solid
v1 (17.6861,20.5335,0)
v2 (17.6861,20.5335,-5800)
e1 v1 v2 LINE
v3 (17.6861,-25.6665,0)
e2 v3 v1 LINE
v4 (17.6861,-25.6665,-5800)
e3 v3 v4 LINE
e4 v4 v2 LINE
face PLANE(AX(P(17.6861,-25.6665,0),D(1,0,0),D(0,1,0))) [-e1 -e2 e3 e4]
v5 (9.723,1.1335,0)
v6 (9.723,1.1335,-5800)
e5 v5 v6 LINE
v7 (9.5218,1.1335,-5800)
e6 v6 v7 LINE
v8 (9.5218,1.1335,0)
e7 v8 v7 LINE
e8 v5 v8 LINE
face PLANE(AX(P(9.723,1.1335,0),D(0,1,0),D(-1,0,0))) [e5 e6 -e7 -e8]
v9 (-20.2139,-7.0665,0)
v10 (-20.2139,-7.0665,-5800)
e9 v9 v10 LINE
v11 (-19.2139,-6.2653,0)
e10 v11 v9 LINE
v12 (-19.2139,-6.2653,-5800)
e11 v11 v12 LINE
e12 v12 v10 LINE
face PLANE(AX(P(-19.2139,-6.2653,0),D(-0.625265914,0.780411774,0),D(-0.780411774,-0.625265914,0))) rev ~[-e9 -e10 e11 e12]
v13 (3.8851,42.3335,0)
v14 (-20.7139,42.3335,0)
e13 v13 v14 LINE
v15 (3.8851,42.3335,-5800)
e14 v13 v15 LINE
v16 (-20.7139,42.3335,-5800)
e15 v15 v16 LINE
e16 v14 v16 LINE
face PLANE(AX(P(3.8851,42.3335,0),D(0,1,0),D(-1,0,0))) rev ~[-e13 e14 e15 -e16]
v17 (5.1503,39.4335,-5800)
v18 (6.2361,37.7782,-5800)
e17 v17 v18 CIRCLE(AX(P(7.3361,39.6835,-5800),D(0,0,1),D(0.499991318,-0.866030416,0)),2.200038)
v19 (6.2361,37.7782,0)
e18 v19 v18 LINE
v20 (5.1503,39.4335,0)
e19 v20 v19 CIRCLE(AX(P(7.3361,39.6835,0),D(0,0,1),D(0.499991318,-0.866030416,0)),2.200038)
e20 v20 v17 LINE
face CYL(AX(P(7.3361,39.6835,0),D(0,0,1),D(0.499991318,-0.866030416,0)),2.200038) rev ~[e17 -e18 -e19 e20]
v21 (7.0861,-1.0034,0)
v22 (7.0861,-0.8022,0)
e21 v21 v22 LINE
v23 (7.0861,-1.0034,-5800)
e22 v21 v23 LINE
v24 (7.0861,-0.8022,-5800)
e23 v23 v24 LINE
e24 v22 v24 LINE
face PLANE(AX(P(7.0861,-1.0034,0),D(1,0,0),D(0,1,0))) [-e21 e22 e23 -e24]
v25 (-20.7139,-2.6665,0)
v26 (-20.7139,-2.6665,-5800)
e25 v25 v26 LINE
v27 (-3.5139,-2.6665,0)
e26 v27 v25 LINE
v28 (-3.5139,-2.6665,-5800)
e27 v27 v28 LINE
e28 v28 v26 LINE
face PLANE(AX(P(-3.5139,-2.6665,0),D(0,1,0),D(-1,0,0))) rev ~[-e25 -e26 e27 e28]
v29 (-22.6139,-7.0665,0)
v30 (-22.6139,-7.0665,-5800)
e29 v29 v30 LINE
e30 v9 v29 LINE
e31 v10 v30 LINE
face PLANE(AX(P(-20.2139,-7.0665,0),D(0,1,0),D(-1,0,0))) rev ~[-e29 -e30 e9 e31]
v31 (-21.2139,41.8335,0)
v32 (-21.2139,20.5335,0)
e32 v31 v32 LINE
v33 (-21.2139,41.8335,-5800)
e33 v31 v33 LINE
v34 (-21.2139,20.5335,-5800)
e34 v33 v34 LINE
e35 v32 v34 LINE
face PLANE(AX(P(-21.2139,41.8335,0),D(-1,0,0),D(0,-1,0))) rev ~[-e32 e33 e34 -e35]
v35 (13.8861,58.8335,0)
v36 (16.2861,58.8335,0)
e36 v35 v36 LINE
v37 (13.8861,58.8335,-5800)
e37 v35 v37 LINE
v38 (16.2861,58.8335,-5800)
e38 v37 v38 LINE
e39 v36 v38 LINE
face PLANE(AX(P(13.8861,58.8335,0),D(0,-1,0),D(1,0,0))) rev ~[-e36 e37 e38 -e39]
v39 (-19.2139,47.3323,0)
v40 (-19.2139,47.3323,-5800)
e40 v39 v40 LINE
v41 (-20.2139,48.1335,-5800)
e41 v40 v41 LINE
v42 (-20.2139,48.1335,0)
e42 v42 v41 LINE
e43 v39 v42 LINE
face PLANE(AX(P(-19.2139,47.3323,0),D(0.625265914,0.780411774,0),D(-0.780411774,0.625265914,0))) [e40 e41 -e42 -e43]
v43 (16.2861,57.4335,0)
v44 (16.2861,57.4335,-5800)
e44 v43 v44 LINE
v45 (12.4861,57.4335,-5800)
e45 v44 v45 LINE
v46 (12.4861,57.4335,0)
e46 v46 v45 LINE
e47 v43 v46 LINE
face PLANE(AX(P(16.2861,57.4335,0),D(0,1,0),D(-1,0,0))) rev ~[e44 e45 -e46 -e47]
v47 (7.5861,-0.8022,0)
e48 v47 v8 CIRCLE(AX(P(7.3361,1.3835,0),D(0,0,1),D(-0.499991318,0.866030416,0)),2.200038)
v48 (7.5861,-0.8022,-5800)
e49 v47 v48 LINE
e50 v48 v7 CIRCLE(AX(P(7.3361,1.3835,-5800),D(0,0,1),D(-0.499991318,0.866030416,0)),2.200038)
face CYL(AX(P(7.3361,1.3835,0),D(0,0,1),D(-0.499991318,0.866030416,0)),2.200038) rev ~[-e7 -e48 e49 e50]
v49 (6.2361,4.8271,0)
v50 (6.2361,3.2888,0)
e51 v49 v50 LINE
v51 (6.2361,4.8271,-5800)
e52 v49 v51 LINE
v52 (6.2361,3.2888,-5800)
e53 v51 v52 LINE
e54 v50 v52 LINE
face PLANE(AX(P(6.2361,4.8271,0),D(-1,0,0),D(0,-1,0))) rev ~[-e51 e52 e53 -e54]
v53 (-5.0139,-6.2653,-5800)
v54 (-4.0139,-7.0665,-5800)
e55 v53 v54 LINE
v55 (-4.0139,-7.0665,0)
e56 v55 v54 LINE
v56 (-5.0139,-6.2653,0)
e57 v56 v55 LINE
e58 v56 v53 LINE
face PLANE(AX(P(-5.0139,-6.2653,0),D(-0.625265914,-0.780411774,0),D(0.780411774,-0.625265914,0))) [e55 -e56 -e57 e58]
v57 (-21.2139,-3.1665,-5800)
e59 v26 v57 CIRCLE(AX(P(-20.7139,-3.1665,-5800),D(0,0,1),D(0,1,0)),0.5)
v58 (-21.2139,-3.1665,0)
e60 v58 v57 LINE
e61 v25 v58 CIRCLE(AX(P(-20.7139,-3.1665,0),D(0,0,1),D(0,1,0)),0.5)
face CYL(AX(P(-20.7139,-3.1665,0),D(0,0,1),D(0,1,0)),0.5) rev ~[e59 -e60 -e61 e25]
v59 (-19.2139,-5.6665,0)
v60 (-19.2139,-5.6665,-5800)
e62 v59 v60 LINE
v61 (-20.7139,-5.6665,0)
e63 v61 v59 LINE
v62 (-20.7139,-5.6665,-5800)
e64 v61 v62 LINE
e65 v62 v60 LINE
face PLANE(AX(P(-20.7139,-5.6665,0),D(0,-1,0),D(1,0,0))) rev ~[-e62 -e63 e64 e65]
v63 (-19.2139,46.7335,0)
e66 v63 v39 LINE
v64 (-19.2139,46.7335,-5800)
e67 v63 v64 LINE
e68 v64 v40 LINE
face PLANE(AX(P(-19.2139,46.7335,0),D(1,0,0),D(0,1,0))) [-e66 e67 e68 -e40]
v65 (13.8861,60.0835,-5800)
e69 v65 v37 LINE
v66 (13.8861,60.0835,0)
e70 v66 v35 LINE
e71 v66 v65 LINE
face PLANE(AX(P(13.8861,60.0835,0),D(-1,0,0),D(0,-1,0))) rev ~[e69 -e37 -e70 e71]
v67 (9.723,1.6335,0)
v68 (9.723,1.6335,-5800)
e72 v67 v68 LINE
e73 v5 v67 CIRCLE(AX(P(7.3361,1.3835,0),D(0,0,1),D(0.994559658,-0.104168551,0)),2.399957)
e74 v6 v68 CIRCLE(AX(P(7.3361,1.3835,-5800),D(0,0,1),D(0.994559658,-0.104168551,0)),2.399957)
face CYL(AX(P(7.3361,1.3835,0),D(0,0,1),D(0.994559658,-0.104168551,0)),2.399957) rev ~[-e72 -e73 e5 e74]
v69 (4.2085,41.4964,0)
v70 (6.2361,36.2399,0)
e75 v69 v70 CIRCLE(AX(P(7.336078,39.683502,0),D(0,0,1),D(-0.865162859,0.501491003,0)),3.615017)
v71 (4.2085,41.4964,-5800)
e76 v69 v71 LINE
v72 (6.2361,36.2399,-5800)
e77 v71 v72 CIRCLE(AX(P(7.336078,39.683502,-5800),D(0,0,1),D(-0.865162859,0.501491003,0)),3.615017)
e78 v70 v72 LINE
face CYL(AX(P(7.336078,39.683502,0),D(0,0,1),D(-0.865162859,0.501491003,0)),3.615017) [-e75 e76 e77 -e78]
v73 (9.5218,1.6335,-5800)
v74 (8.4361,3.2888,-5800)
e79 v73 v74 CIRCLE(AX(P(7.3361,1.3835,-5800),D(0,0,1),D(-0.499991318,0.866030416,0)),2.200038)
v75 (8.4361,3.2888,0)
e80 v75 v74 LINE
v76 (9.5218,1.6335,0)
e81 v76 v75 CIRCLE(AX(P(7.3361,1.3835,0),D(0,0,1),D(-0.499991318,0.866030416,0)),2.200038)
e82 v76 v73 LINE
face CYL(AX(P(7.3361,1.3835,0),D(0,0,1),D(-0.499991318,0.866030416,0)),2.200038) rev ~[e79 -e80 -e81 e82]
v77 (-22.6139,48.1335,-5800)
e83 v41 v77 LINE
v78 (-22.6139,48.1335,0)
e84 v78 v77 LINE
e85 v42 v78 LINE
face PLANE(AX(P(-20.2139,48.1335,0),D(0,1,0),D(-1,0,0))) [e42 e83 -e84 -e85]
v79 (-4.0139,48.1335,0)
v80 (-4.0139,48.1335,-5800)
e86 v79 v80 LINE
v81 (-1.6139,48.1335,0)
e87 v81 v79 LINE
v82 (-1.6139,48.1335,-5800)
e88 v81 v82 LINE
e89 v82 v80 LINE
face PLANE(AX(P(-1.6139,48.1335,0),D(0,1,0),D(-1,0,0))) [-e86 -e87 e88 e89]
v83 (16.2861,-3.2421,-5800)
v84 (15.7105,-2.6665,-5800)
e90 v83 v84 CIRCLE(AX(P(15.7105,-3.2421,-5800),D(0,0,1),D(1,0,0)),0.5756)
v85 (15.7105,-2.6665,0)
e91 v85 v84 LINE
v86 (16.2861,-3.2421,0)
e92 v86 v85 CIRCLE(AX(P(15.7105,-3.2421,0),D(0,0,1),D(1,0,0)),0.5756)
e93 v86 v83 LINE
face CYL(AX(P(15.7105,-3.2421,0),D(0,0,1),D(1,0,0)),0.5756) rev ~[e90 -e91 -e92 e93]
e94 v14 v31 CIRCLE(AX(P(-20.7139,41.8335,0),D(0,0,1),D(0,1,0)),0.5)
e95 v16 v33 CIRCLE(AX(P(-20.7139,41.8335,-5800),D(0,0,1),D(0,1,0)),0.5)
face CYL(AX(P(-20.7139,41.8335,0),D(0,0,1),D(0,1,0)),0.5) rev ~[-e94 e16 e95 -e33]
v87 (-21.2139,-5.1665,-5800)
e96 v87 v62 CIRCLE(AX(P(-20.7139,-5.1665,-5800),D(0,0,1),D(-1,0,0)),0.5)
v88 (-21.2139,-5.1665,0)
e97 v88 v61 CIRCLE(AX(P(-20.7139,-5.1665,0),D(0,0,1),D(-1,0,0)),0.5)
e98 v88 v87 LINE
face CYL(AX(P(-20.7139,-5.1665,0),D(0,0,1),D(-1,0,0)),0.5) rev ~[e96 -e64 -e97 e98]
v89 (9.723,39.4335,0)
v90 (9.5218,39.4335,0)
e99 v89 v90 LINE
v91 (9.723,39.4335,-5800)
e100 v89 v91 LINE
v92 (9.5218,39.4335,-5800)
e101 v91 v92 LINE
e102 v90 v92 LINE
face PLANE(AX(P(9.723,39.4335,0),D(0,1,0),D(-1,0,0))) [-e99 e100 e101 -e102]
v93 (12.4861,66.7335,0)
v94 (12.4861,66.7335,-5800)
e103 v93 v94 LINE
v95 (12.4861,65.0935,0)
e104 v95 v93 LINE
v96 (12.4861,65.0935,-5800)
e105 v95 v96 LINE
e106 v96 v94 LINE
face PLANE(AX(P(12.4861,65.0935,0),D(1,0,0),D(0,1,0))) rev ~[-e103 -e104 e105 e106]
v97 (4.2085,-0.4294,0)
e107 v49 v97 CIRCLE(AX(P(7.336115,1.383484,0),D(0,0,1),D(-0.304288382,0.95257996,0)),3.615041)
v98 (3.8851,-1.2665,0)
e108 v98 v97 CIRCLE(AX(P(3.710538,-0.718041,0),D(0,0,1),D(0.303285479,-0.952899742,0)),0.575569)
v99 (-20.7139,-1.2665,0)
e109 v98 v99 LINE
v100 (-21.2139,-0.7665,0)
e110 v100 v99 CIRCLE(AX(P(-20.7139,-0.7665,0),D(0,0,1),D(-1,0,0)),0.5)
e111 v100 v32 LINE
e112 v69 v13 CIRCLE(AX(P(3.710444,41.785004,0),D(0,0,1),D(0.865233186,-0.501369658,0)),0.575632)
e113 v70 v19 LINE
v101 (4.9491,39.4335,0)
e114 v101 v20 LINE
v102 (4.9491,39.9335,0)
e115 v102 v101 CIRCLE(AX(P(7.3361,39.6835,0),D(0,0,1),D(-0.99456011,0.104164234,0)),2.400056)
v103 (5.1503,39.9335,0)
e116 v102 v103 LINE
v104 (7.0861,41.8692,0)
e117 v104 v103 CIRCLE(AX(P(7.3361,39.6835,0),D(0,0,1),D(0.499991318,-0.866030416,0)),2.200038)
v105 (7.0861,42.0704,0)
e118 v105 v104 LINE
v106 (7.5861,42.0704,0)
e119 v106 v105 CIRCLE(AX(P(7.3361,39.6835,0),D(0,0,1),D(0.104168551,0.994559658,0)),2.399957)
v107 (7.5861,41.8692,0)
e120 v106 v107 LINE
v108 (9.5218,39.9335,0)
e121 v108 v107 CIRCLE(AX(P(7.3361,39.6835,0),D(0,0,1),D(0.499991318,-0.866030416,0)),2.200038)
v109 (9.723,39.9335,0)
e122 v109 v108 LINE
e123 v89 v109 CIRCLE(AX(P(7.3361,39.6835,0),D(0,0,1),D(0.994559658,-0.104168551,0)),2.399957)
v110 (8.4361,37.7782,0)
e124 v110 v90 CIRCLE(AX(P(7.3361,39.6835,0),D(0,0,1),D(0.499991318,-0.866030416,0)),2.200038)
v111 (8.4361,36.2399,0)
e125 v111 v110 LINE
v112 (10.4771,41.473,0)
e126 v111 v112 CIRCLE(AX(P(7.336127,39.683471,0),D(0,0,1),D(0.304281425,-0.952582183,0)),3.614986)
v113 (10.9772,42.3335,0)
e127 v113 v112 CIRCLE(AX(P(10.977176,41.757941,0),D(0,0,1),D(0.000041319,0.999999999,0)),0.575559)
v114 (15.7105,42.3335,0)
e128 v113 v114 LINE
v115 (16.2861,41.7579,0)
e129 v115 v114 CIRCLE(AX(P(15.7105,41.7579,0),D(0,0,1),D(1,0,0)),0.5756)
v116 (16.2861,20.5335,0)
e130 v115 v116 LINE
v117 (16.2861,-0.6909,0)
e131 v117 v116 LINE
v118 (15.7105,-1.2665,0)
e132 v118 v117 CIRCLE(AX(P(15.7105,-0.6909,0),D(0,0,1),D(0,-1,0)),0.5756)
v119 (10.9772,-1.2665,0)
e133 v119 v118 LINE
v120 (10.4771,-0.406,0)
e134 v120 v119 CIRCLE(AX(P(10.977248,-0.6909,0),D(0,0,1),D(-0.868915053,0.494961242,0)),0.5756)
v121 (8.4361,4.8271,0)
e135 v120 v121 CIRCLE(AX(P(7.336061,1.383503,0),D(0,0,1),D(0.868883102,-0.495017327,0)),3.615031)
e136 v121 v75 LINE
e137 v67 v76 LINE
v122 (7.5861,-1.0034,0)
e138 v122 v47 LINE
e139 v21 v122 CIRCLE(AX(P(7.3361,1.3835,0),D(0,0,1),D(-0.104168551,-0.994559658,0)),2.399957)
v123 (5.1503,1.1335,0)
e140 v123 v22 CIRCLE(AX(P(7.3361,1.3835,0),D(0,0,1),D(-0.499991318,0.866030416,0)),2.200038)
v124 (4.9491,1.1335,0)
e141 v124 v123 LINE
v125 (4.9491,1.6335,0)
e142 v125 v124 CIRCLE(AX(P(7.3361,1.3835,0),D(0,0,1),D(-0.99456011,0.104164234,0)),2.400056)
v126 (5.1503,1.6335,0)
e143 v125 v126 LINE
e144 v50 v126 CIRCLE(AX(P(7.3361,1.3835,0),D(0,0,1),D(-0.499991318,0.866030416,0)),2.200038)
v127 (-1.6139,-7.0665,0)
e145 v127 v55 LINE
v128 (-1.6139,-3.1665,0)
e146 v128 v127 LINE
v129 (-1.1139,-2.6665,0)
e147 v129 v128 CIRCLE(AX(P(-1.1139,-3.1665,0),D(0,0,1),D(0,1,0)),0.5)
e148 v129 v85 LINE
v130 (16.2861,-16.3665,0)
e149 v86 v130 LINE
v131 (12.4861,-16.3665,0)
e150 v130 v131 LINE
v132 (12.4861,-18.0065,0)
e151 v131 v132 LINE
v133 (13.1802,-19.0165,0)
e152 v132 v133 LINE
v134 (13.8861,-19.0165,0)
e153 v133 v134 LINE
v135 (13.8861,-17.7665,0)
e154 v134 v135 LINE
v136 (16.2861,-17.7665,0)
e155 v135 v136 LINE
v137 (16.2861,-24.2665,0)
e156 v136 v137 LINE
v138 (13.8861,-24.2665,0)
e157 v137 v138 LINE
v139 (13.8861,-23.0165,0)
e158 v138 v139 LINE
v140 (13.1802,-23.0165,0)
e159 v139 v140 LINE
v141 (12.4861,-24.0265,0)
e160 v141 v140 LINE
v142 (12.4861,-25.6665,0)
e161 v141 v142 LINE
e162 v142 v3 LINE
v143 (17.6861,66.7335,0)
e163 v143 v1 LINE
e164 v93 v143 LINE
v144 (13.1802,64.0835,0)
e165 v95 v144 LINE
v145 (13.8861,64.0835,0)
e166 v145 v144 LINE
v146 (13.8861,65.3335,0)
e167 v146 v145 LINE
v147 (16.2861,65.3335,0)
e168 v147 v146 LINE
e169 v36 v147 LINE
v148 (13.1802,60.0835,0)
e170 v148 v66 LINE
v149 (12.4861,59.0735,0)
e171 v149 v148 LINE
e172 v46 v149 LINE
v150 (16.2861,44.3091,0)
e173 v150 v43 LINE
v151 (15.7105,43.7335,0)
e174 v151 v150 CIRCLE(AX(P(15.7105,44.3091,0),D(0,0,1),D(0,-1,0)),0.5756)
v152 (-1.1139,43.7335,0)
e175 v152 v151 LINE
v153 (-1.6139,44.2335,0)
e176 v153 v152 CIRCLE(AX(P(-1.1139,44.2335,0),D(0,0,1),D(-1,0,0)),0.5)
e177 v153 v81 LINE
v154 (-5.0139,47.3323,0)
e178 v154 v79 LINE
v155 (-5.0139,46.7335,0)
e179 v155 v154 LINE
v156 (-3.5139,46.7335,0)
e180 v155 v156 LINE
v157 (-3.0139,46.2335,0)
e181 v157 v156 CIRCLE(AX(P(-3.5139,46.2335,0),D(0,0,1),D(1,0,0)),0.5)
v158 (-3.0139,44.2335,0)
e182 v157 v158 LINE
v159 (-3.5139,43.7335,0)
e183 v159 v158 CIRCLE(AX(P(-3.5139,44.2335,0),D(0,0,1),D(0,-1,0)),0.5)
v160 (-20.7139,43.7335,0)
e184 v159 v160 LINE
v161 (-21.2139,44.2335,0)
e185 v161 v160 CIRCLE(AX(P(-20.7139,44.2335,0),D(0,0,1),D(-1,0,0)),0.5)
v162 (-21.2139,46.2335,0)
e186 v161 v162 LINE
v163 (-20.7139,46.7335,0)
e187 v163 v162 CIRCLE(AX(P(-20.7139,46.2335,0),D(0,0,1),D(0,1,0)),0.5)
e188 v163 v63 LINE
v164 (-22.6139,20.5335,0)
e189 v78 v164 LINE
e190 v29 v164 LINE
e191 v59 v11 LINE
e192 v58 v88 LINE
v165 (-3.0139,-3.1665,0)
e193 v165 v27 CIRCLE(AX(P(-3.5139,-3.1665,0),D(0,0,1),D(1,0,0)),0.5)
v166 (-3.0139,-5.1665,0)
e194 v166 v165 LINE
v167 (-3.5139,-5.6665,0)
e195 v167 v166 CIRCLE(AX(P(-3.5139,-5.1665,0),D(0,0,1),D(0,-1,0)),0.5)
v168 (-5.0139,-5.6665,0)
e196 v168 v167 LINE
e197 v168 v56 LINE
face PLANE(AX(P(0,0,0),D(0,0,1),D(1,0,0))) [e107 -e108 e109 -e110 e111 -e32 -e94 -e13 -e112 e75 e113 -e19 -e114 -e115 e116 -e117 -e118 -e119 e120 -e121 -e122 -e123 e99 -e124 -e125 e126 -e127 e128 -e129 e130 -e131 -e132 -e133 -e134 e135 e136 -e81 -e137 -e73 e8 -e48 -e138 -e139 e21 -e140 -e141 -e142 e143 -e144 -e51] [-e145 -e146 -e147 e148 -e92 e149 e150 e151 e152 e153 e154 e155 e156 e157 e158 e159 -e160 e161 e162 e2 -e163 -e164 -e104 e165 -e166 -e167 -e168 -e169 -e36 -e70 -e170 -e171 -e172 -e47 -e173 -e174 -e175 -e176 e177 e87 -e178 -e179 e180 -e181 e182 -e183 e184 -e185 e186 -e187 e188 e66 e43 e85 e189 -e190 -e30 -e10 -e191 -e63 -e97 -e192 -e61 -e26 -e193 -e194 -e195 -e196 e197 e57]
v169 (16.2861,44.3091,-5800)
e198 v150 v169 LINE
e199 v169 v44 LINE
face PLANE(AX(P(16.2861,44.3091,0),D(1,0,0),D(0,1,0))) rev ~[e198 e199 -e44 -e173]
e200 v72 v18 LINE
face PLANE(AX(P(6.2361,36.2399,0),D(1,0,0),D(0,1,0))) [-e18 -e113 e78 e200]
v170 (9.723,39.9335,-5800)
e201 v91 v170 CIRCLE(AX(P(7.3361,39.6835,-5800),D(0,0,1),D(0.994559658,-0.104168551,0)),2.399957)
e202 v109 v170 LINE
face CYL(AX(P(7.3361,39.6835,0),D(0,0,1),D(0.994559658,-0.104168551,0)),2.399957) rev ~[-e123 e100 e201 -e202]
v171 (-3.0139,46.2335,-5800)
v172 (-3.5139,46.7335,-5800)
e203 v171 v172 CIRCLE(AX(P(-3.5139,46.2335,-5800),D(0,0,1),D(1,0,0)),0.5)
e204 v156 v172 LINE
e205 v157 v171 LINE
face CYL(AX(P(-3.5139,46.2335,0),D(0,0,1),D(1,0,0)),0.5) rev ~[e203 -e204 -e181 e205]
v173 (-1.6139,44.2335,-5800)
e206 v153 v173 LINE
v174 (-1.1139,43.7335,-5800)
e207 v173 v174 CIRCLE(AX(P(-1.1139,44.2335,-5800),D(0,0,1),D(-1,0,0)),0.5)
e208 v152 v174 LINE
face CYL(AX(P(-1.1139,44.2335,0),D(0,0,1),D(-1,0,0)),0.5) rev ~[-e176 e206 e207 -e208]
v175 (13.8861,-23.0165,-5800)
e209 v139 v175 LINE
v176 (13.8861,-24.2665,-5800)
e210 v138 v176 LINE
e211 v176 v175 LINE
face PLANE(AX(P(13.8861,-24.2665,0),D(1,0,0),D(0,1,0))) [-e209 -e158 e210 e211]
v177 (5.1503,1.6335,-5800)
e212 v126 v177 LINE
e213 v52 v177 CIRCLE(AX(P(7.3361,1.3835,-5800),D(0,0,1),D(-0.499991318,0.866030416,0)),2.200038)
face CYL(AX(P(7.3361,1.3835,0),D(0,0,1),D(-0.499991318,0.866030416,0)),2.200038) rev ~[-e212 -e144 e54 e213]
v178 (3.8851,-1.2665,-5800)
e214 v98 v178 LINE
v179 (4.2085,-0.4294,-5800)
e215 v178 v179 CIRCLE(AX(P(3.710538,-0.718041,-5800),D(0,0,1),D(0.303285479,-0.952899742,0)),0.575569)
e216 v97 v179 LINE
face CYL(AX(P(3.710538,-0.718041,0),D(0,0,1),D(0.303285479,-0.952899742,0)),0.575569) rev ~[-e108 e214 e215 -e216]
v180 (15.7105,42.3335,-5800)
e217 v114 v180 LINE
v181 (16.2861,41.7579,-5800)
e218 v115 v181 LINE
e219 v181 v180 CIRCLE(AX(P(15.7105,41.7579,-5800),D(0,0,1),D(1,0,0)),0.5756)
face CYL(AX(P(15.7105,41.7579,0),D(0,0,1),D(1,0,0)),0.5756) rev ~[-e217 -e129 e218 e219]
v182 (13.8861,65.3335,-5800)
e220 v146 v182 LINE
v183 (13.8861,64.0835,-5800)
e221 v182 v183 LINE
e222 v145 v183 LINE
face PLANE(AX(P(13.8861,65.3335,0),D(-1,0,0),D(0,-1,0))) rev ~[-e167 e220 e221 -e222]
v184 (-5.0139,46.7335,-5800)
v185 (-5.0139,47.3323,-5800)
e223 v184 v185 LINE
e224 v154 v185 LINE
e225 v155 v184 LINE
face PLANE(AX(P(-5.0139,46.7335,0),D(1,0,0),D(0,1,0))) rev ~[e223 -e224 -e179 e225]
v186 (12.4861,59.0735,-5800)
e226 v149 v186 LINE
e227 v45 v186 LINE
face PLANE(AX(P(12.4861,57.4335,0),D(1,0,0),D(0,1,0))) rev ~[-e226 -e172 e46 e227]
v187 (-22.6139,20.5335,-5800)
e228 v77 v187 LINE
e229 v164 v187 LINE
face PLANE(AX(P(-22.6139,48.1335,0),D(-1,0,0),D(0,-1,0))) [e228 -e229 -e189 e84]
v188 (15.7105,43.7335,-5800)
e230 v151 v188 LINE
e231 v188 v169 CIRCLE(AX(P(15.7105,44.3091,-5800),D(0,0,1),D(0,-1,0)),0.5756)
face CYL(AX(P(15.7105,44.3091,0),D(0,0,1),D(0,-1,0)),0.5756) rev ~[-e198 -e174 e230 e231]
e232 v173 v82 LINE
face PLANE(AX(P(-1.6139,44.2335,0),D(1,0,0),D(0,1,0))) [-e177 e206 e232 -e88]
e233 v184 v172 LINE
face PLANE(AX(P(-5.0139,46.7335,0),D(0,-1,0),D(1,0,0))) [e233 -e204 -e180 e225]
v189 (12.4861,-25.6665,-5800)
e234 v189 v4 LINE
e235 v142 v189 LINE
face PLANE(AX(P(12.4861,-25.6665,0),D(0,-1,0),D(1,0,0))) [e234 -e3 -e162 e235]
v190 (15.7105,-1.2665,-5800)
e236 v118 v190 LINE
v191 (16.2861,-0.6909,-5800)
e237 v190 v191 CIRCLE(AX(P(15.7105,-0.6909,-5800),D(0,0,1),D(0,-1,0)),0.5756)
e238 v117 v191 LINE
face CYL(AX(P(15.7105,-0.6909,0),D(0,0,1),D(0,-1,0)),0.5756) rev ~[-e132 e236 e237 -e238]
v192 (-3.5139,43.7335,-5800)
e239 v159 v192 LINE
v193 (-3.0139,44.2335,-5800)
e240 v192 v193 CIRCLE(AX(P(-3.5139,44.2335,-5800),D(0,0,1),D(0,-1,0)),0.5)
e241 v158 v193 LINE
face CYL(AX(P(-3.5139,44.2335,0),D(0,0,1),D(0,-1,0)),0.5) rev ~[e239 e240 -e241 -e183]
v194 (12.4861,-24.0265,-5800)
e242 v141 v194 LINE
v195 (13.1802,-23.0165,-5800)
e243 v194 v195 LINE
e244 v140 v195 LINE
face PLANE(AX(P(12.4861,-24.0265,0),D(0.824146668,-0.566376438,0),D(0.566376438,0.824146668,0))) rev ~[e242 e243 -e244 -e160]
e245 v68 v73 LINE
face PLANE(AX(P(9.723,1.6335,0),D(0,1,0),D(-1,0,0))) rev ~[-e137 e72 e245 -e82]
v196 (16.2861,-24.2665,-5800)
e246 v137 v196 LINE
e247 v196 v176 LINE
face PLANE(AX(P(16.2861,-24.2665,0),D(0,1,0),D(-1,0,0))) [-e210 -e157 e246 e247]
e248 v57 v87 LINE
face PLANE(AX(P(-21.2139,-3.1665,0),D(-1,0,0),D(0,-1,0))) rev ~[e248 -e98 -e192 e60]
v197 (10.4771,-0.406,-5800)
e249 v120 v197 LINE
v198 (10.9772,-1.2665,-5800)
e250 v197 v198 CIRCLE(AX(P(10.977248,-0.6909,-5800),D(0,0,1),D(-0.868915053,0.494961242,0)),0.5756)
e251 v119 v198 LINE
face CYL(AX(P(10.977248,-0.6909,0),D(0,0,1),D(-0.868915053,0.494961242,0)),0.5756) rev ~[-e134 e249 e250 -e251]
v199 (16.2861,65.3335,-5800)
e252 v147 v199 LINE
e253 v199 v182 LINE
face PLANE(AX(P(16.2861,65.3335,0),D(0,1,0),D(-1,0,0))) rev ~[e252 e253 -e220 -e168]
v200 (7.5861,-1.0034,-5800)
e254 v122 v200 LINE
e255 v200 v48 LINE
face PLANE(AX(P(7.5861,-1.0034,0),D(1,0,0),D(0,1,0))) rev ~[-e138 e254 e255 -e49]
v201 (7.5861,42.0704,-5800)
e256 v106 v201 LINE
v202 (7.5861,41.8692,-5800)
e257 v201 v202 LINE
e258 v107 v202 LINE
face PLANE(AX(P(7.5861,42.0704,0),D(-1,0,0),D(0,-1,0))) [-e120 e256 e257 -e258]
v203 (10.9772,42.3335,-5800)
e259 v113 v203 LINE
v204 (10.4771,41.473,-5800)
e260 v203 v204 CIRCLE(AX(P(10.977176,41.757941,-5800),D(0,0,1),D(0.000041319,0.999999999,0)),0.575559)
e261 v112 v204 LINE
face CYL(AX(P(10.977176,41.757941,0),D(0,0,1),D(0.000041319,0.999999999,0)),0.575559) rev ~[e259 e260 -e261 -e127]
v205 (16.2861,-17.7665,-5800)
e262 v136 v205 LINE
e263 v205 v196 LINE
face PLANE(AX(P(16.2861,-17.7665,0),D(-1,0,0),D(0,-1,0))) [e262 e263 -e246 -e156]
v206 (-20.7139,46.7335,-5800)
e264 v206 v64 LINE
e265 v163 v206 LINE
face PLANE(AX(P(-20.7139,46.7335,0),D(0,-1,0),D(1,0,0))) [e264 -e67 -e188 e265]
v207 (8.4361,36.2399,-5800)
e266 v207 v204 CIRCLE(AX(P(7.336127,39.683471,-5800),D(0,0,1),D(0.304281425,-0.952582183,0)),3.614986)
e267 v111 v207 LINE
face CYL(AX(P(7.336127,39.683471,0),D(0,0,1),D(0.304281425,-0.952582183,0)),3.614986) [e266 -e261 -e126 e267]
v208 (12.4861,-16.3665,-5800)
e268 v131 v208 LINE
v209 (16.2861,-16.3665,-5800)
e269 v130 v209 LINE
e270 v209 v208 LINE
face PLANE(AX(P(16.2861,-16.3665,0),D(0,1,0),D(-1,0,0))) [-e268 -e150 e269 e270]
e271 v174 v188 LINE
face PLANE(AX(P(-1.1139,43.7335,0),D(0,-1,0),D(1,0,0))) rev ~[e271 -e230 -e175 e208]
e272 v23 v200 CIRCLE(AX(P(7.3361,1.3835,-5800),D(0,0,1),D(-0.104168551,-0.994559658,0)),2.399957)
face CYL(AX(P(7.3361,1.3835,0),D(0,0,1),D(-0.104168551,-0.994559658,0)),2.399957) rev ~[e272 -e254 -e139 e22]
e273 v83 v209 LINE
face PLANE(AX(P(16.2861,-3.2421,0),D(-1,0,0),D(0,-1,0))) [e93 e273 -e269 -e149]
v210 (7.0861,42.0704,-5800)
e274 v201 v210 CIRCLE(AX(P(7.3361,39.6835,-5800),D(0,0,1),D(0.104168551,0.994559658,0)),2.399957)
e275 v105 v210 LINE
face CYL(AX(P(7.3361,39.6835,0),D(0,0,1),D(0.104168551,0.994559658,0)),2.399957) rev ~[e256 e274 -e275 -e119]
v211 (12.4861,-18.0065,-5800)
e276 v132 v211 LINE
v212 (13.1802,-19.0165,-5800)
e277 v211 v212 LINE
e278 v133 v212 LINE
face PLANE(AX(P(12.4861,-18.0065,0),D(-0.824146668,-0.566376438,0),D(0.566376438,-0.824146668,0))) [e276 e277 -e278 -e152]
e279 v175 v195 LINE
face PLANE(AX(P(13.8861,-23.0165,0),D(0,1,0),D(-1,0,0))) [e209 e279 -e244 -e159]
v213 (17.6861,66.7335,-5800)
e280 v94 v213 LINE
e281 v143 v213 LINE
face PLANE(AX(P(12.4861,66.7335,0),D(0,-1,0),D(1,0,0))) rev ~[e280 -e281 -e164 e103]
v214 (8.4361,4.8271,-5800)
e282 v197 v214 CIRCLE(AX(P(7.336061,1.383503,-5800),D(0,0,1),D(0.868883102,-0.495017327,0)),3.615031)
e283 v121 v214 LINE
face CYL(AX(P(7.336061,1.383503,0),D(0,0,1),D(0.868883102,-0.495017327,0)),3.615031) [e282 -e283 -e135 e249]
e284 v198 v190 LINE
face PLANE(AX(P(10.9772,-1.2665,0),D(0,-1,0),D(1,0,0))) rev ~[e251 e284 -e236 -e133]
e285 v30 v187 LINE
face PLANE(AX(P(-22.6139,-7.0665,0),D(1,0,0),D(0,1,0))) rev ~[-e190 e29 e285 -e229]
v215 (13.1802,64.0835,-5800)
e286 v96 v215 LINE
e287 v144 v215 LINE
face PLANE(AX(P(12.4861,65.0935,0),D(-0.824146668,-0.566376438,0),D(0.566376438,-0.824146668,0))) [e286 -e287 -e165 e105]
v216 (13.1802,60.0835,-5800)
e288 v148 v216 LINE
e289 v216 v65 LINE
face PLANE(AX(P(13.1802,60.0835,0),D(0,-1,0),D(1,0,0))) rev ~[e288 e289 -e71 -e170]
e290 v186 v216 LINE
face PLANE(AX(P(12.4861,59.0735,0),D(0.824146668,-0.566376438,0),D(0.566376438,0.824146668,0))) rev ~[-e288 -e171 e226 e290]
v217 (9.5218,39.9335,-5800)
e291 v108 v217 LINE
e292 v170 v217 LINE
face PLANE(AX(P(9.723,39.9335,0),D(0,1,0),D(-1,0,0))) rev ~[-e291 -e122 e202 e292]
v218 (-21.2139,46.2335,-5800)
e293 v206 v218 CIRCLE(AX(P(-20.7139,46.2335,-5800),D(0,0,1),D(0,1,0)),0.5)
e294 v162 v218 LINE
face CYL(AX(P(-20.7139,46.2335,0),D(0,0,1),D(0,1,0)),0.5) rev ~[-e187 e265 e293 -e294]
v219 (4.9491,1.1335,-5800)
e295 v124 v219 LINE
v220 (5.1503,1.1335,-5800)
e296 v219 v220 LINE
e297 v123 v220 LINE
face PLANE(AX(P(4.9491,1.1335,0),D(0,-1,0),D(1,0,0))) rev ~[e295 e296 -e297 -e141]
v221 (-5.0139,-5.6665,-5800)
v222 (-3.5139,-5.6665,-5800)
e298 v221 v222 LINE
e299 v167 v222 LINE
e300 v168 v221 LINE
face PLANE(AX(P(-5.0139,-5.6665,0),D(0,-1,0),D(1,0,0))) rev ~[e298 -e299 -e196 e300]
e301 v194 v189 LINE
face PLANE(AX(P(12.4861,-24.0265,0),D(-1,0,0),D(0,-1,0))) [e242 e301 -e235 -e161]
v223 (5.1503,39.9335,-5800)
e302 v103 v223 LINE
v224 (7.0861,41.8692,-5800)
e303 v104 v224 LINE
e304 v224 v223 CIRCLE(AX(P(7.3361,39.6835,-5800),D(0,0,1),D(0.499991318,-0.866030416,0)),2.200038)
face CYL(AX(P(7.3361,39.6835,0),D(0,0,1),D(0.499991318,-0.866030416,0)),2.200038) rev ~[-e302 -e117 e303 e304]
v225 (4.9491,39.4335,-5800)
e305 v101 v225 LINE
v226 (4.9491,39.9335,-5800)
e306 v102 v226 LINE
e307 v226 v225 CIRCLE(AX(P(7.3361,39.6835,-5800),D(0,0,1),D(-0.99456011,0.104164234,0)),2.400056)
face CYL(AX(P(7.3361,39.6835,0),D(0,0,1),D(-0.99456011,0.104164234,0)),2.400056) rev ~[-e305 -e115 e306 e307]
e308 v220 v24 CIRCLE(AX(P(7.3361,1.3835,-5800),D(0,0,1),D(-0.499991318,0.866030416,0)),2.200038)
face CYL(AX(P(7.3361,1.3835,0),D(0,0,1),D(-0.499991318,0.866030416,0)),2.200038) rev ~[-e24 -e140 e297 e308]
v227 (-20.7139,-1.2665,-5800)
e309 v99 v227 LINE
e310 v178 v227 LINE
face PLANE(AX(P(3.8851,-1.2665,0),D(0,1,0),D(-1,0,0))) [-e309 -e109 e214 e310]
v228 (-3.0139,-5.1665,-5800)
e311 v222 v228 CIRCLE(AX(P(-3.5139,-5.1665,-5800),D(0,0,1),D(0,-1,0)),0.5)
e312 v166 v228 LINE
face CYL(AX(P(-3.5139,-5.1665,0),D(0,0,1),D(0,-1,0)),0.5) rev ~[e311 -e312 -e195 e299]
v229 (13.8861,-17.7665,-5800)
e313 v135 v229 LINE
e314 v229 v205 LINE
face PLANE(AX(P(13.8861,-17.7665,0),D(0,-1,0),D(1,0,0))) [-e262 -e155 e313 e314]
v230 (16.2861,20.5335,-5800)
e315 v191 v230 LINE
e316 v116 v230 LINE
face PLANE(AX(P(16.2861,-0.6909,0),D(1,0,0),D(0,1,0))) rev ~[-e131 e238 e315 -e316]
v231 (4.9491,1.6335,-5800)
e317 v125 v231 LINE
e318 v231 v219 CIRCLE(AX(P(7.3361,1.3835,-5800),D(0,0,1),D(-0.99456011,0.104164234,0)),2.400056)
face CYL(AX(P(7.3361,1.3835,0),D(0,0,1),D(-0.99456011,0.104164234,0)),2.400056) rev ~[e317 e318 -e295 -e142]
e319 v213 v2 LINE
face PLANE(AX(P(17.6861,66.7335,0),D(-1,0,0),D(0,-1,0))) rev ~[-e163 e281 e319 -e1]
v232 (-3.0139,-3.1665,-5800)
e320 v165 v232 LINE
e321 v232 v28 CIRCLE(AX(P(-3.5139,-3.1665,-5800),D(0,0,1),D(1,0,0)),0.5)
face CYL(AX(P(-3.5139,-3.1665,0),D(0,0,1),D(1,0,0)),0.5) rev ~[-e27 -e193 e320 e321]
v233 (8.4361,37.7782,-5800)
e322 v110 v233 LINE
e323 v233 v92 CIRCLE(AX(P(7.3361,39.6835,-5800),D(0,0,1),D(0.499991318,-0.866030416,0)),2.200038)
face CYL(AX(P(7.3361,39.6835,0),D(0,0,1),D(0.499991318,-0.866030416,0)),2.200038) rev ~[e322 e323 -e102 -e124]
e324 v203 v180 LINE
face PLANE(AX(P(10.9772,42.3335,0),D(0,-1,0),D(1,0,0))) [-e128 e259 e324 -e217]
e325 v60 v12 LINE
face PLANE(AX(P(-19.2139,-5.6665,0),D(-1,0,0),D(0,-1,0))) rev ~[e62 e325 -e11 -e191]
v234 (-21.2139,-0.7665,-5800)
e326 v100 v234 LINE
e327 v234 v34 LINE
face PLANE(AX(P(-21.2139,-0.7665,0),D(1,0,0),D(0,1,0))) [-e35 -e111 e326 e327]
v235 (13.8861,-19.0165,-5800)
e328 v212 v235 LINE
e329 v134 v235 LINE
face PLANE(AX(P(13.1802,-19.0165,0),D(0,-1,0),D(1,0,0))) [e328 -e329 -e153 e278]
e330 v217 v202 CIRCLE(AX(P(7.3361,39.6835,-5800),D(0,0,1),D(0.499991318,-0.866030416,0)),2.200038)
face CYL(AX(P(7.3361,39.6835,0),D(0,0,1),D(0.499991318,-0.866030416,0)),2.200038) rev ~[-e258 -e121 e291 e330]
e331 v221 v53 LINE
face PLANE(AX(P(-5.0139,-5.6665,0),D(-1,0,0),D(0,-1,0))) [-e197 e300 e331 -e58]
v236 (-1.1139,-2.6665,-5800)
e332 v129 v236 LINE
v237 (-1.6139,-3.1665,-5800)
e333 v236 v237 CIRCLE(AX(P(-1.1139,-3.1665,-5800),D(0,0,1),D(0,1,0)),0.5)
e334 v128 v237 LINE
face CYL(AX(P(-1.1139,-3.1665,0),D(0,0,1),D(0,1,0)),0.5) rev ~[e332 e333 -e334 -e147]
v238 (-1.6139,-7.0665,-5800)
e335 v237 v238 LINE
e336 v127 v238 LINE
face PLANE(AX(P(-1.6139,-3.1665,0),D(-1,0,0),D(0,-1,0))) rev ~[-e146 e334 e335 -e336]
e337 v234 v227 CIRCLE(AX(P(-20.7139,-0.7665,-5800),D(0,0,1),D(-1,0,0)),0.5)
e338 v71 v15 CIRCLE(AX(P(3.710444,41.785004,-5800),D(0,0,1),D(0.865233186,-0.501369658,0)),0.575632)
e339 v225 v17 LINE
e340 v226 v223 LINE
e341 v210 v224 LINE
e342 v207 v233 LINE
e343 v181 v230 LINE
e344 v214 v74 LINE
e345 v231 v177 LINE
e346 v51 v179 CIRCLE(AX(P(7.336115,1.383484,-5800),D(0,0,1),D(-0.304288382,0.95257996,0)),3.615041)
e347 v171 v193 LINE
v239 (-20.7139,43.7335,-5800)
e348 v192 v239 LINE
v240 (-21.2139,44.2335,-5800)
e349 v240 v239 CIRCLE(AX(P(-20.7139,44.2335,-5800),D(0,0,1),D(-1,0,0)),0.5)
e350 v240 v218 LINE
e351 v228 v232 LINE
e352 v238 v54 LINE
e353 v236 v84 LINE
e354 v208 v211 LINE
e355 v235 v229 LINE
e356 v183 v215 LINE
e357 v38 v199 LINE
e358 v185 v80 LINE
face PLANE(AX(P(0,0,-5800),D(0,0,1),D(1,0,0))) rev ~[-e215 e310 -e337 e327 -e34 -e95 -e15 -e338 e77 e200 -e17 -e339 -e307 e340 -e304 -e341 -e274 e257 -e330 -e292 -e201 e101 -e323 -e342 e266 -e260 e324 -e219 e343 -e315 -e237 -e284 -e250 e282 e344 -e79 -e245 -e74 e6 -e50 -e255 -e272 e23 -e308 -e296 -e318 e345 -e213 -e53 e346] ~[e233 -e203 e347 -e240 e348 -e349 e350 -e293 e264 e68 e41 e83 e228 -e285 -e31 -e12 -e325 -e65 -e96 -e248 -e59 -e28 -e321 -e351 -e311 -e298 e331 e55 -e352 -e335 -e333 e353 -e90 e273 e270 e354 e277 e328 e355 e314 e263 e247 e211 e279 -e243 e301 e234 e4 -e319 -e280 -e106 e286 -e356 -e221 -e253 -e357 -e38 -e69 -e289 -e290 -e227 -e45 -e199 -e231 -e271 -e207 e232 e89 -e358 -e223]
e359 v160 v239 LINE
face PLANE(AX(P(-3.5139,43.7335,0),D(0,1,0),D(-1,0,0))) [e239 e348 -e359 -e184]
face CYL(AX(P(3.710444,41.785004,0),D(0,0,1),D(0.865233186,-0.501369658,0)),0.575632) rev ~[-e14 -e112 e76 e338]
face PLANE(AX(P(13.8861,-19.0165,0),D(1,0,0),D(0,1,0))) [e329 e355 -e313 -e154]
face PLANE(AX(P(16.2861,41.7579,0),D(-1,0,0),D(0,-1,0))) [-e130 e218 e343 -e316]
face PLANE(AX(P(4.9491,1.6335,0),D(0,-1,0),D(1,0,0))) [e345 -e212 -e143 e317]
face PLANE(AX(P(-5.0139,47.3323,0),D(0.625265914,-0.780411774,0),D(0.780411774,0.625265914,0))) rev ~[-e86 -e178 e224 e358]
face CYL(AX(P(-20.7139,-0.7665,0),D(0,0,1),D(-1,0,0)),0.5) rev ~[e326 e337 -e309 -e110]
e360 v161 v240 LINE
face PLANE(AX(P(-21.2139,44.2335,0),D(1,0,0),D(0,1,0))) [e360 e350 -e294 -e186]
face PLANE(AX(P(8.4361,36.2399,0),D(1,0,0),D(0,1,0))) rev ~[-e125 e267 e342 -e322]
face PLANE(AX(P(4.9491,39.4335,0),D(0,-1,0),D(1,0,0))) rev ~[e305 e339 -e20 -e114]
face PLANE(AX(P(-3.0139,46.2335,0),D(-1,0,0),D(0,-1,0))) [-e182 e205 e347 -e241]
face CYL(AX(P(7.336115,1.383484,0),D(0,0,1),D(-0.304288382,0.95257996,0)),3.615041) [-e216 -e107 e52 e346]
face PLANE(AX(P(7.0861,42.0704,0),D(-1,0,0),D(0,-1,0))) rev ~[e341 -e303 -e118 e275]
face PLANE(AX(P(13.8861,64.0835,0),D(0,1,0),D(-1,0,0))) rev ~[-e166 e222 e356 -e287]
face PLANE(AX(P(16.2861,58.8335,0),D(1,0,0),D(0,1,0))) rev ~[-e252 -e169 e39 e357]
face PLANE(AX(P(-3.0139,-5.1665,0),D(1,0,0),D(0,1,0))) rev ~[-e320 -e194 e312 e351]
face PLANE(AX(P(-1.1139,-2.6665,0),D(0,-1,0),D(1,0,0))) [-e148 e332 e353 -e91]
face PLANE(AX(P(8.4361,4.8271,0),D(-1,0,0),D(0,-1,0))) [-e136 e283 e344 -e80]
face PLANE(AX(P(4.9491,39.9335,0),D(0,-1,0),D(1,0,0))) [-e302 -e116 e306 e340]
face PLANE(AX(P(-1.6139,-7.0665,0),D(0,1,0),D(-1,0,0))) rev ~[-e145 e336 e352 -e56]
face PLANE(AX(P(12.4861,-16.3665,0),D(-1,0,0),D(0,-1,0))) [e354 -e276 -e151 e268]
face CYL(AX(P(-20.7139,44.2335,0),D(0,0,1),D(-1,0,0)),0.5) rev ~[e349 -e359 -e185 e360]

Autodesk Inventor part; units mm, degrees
ref_plane "YZ Plane" through (0, 0, 0) normal (1, 0, 0) x (0, 1, 0)
ref_plane "XZ Plane" through (0, 0, 0) normal (0, 1, 0) x (-1, 0, 0)
ref_plane "XY Plane" through (0, 0, 0) normal (0, 0, 1) x (1, 0, 0)
sketch "Boceto1" plane through (0, 0, 0) normal (0, 0, 1) x (1, 0, 0)
  line L0 (-1.1139, -2.6665) -> (15.7105, -2.6665)
  line L1 (16.2861, -3.2421) -> (16.2861, -16.3665)
  line L2 (16.2861, -16.3665) -> (12.4861, -16.3665)
  line L3 (12.4861, -16.3665) -> (12.4861, -18.0065)
  line L4 (13.1802, -19.0165) -> (13.8861, -19.0165)
  line L5 (13.8861, -19.0165) -> (13.8861, -17.7665)
  line L6 (13.8861, -17.7665) -> (16.2861, -17.7665)
  line L7 (16.2861, -17.7665) -> (16.2861, -24.2665)
  line L8 (16.2861, -24.2665) -> (13.8861, -24.2665)
  line L9 (13.8861, -24.2665) -> (13.8861, -23.0165)
  line L10 (13.8861, -23.0165) -> (13.1802, -23.0165)
  line L11 (12.4861, -24.0265) -> (12.4861, -25.6665)
  line L12 (12.4861, -25.6665) -> (17.6861, -25.6665)
  line L13 (17.6861, -25.6665) -> (17.6861, 20.5335)
  line L14 (16.2861, -0.6909) -> (16.2861, 20.5335)
  line L15 (7.3361, 2.6189) -> (7.3361, -2.6665) construction
  arc A0 (6.2361, 3.2888) -> (8.4361, 3.2888) centre (7.3361, 1.3835) ccw
  line L16 (4.9491, 1.1335) -> (5.1503, 1.1335)
  line L17 (4.9491, 1.6335) -> (5.1503, 1.6335)
  line L18 (10.9772, -1.2665) -> (15.7105, -1.2665)
  line L19 (9.723, 1.1335) -> (9.5218, 1.1335)
  line L20 (9.723, 1.6335) -> (9.5218, 1.6335)
  line L21 (7.5861, -1.0034) -> (7.5861, -0.8022)
  line L22 (7.0861, -1.0034) -> (7.0861, -0.8022)
  arc A1 (7.0861, -1.0034) -> (7.5861, -1.0034) centre (7.3361, 1.3835) ccw
  arc A2 (9.723, 1.1335) -> (9.723, 1.6335) centre (7.3361, 1.3835) ccw
  arc A3 (4.9491, 1.6335) -> (4.9491, 1.1335) centre (7.3361, 1.3835) ccw
  circle A4 centre (7.3361, 1.3835) radius 2.4 construction
  line L23 (6.2361, 4.8271) -> (6.2361, 3.2888)
  line L24 (8.4361, 4.8271) -> (8.4361, 3.2888)
  arc A5 (10.4771, -0.406) -> (8.4361, 4.8271) centre (7.3361, 1.3835) ccw
  arc A6 (6.2361, 4.8271) -> (4.2085, -0.4294) centre (7.3361, 1.3835) ccw
  line L25 (12.4861, -18.0065) -> (13.1802, -19.0165)
  line L26 (12.4861, -24.0265) -> (13.1802, -23.0165)
  arc A7 (15.7105, -1.2665) -> (16.2861, -0.6909) centre (15.7105, -0.6909) ccw
  arc A8 (16.2861, -3.2421) -> (15.7105, -2.6665) centre (15.7105, -3.2421) ccw
  arc A9 (3.8851, -1.2665) -> (4.2085, -0.4294) centre (3.7105, -0.718) ccw
  arc A10 (10.4771, -0.406) -> (10.9772, -1.2665) centre (10.9772, -0.6909) ccw
  line L27 (-26.537, 20.5335) -> (21.9694, 20.5335) construction
  line L28 (-1.6139, -3.1665) -> (-1.6139, -7.0665)
  line L29 (-1.6139, -7.0665) -> (-4.0139, -7.0665)
  line L30 (-5.0139, -5.6665) -> (-3.5139, -5.6665)
  line L31 (-3.0139, -5.1665) -> (-3.0139, -3.1665)
  line L32 (-3.5139, -2.6665) -> (-20.7139, -2.6665)
  line L33 (-21.2139, -3.1665) -> (-21.2139, -5.1665)
  line L34 (-20.7139, -5.6665) -> (-19.2139, -5.6665)
  line L35 (-20.2139, -7.0665) -> (-22.6139, -7.0665)
  line L36 (3.8851, -1.2665) -> (-20.7139, -1.2665)
  line L37 (-21.2139, -0.7665) -> (-21.2139, 20.5335)
  line L38 (-22.6139, -7.0665) -> (-22.6139, 20.5335)
  line L39 (-19.2139, -5.6665) -> (-19.2139, -6.2653)
  line L40 (-19.2139, -6.2653) -> (-20.2139, -7.0665)
  line L41 (-5.0139, -5.6665) -> (-5.0139, -6.2653)
  line L42 (-5.0139, -6.2653) -> (-4.0139, -7.0665)
  line L43 (4.3997, 1.3835) -> (10.1666, 1.3835) construction
  arc A11 (-1.1139, -2.6665) -> (-1.6139, -3.1665) centre (-1.1139, -3.1665) ccw
  arc A12 (-3.0139, -3.1665) -> (-3.5139, -2.6665) centre (-3.5139, -3.1665) ccw
  arc A13 (-3.5139, -5.6665) -> (-3.0139, -5.1665) centre (-3.5139, -5.1665) ccw
  arc A14 (-20.7139, -2.6665) -> (-21.2139, -3.1665) centre (-20.7139, -3.1665) ccw
  arc A15 (-21.2139, -5.1665) -> (-20.7139, -5.6665) centre (-20.7139, -5.1665) ccw
  arc A16 (-21.2139, -0.7665) -> (-20.7139, -1.2665) centre (-20.7139, -0.7665) ccw
  line L44 (-1.1139, 43.7335) -> (15.7105, 43.7335)
  line L45 (16.2861, 44.3091) -> (16.2861, 57.4335)
  line L46 (16.2861, 57.4335) -> (12.4861, 57.4335)
  line L47 (12.4861, 57.4335) -> (12.4861, 59.0735)
  line L48 (13.1802, 60.0835) -> (13.8861, 60.0835)
  line L49 (13.8861, 60.0835) -> (13.8861, 58.8335)
  line L50 (13.8861, 58.8335) -> (16.2861, 58.8335)
  line L51 (16.2861, 58.8335) -> (16.2861, 65.3335)
  line L52 (16.2861, 65.3335) -> (13.8861, 65.3335)
  line L53 (13.8861, 65.3335) -> (13.8861, 64.0835)
  line L54 (13.8861, 64.0835) -> (13.1802, 64.0835)
  line L55 (12.4861, 65.0935) -> (12.4861, 66.7335)
  line L56 (12.4861, 66.7335) -> (17.6861, 66.7335)
  line L57 (17.6861, 66.7335) -> (17.6861, 20.5335)
  line L58 (16.2861, 41.7579) -> (16.2861, 20.5335)
  line L59 (7.3361, 38.4481) -> (7.3361, 43.7335) construction
  arc A17 (8.4361, 37.7782) -> (6.2361, 37.7782) centre (7.3361, 39.6835) ccw
  line L60 (4.9491, 39.9335) -> (5.1503, 39.9335)
  line L61 (4.9491, 39.4335) -> (5.1503, 39.4335)
  line L62 (10.9772, 42.3335) -> (15.7105, 42.3335)
  line L63 (9.723, 39.9335) -> (9.5218, 39.9335)
  line L64 (9.723, 39.4335) -> (9.5218, 39.4335)
  line L65 (7.5861, 42.0704) -> (7.5861, 41.8692)
  line L66 (7.0861, 42.0704) -> (7.0861, 41.8692)
  arc A18 (7.5861, 42.0704) -> (7.0861, 42.0704) centre (7.3361, 39.6835) ccw
  arc A19 (9.723, 39.4335) -> (9.723, 39.9335) centre (7.3361, 39.6835) ccw
  arc A20 (4.9491, 39.9335) -> (4.9491, 39.4335) centre (7.3361, 39.6835) ccw
  circle A21 centre (7.3361, 39.6835) radius 2.4 construction
  line L67 (6.2361, 36.2399) -> (6.2361, 37.7782)
  line L68 (8.4361, 36.2399) -> (8.4361, 37.7782)
  arc A22 (8.4361, 36.2399) -> (10.4771, 41.473) centre (7.3361, 39.6835) ccw
  arc A23 (4.2085, 41.4964) -> (6.2361, 36.2399) centre (7.3361, 39.6835) ccw
  line L69 (12.4861, 59.0735) -> (13.1802, 60.0835)
  line L70 (12.4861, 65.0935) -> (13.1802, 64.0835)
  arc A24 (16.2861, 41.7579) -> (15.7105, 42.3335) centre (15.7105, 41.7579) ccw
  arc A25 (15.7105, 43.7335) -> (16.2861, 44.3091) centre (15.7105, 44.3091) ccw
  arc A26 (4.2085, 41.4964) -> (3.8851, 42.3335) centre (3.7105, 41.785) ccw
  arc A27 (10.9772, 42.3335) -> (10.4771, 41.473) centre (10.9772, 41.7579) ccw
  line L71 (-1.6139, 44.2335) -> (-1.6139, 48.1335)
  line L72 (-1.6139, 48.1335) -> (-4.0139, 48.1335)
  line L73 (-5.0139, 46.7335) -> (-3.5139, 46.7335)
  line L74 (-3.0139, 46.2335) -> (-3.0139, 44.2335)
  line L75 (-3.5139, 43.7335) -> (-20.7139, 43.7335)
  line L76 (-21.2139, 44.2335) -> (-21.2139, 46.2335)
  line L77 (-20.7139, 46.7335) -> (-19.2139, 46.7335)
  line L78 (-20.2139, 48.1335) -> (-22.6139, 48.1335)
  line L79 (3.8851, 42.3335) -> (-20.7139, 42.3335)
  line L80 (-21.2139, 41.8335) -> (-21.2139, 20.5335)
  line L81 (-22.6139, 48.1335) -> (-22.6139, 20.5335)
  line L82 (-19.2139, 46.7335) -> (-19.2139, 47.3323)
  line L83 (-19.2139, 47.3323) -> (-20.2139, 48.1335)
  line L84 (-5.0139, 46.7335) -> (-5.0139, 47.3323)
  line L85 (-5.0139, 47.3323) -> (-4.0139, 48.1335)
  line L86 (4.3997, 39.6835) -> (10.1666, 39.6835) construction
  arc A28 (-1.6139, 44.2335) -> (-1.1139, 43.7335) centre (-1.1139, 44.2335) ccw
  arc A29 (-3.5139, 43.7335) -> (-3.0139, 44.2335) centre (-3.5139, 44.2335) ccw
  arc A30 (-3.0139, 46.2335) -> (-3.5139, 46.7335) centre (-3.5139, 46.2335) ccw
  arc A31 (-21.2139, 44.2335) -> (-20.7139, 43.7335) centre (-20.7139, 44.2335) ccw
  arc A32 (-20.7139, 46.7335) -> (-21.2139, 46.2335) centre (-20.7139, 46.2335) ccw
  arc A33 (-20.7139, 42.3335) -> (-21.2139, 41.8335) centre (-20.7139, 41.8335) ccw
  point P0 (4.8546, -1.2453)
  point P1 (9.7949, -1.2665)
  point P2 (7.2983, -2.6665)
  point P3 (16.2861, -21.0165)
  point P4 (5.0497, 1.6335)
  point P5 (9.6224, 1.6335)
  point P6 (4.8546, 42.3123)
  point P7 (9.7949, 42.3335)
  point P8 (7.2983, 43.7335)
  point P9 (16.2861, 62.0835)
  point P10 (5.0497, 39.4335)
  point P11 (9.6224, 39.4335)
  dimension "d3" = 1.4
  dimension "d4" = 1.4
  dimension "d5" = 1.4
  dimension "d6" = 1.4
  dimension "d7" = 1.4
  dimension "d8" = 1.4
  dimension "d9" = 1.4
  dimension "d12" = 4.4
  dimension "d19" = 0.5
  dimension "d22" = 4.05
  dimension "d26" = 0.5
  dimension "d30" = 0.5
  dimension "d32" = 4.8
  dimension "d35" = 1.1
  dimension "d36" = 2.2
  dimension "d37" = 1.415
  dimension "d38" = 1.415
  dimension "d39" = 0.2
  dimension "d40" = 0.2
  dimension "d43" = 23
  dimension "d44" = 4
  dimension "d45" = 9.3
  dimension "d46" = 6.5
  dimension "d50" = 5.2
  dimension "d53" = 0.2
  dimension "d55" = 0.2
  dimension "d56" = 0.25
  dimension "d57" = 0.2
  dimension "d58" = 1.4
  dimension "d66" = 2
  dimension "d67" = 2
  dimension "d68" = 2.4
  dimension "d69" = 3.01
  dimension "d70" = 6.02
  dimension "d71" = 34.5
  dimension "d72" = 111
  dimension "d74" = 0.7058
  dimension "d75" = 0.7058
  dimension "d90" = 46.2
  dimension "d91" = 1.4
  dimension "d92" = 1.4
  dimension "d93" = 1.4
  dimension "d94" = 1.4
  dimension "d96" = 3
  dimension "d97" = 14.2
  dimension "d98" = 18.2
  dimension "d99" = 21
  dimension "d100" = 40.3
  dimension "d101" = 10.35
  dimension "d102" = 0.25
  dimension "d103" = 0.25
  dimension "d104" = 27.6
  dimension "d105" = 3.4
  dimension "d106" = 3.4
  dimension "d107" = 1
  dimension "d108" = 38.7
  dimension "d109" = 38.7
  dimension "d118" = 0.5
  dimension "d119" = 92.4
  dimension "d120" = 46.4
  dimension "d121" = 55.2
  dimension "d122" = 43.6
extrude "Extrusión1" add sketch "Boceto1" against normal blind 5800
properties part number "PLANTILLA SP40-04A TRAVESAÑO CENTRAL" material "Aluminio"
